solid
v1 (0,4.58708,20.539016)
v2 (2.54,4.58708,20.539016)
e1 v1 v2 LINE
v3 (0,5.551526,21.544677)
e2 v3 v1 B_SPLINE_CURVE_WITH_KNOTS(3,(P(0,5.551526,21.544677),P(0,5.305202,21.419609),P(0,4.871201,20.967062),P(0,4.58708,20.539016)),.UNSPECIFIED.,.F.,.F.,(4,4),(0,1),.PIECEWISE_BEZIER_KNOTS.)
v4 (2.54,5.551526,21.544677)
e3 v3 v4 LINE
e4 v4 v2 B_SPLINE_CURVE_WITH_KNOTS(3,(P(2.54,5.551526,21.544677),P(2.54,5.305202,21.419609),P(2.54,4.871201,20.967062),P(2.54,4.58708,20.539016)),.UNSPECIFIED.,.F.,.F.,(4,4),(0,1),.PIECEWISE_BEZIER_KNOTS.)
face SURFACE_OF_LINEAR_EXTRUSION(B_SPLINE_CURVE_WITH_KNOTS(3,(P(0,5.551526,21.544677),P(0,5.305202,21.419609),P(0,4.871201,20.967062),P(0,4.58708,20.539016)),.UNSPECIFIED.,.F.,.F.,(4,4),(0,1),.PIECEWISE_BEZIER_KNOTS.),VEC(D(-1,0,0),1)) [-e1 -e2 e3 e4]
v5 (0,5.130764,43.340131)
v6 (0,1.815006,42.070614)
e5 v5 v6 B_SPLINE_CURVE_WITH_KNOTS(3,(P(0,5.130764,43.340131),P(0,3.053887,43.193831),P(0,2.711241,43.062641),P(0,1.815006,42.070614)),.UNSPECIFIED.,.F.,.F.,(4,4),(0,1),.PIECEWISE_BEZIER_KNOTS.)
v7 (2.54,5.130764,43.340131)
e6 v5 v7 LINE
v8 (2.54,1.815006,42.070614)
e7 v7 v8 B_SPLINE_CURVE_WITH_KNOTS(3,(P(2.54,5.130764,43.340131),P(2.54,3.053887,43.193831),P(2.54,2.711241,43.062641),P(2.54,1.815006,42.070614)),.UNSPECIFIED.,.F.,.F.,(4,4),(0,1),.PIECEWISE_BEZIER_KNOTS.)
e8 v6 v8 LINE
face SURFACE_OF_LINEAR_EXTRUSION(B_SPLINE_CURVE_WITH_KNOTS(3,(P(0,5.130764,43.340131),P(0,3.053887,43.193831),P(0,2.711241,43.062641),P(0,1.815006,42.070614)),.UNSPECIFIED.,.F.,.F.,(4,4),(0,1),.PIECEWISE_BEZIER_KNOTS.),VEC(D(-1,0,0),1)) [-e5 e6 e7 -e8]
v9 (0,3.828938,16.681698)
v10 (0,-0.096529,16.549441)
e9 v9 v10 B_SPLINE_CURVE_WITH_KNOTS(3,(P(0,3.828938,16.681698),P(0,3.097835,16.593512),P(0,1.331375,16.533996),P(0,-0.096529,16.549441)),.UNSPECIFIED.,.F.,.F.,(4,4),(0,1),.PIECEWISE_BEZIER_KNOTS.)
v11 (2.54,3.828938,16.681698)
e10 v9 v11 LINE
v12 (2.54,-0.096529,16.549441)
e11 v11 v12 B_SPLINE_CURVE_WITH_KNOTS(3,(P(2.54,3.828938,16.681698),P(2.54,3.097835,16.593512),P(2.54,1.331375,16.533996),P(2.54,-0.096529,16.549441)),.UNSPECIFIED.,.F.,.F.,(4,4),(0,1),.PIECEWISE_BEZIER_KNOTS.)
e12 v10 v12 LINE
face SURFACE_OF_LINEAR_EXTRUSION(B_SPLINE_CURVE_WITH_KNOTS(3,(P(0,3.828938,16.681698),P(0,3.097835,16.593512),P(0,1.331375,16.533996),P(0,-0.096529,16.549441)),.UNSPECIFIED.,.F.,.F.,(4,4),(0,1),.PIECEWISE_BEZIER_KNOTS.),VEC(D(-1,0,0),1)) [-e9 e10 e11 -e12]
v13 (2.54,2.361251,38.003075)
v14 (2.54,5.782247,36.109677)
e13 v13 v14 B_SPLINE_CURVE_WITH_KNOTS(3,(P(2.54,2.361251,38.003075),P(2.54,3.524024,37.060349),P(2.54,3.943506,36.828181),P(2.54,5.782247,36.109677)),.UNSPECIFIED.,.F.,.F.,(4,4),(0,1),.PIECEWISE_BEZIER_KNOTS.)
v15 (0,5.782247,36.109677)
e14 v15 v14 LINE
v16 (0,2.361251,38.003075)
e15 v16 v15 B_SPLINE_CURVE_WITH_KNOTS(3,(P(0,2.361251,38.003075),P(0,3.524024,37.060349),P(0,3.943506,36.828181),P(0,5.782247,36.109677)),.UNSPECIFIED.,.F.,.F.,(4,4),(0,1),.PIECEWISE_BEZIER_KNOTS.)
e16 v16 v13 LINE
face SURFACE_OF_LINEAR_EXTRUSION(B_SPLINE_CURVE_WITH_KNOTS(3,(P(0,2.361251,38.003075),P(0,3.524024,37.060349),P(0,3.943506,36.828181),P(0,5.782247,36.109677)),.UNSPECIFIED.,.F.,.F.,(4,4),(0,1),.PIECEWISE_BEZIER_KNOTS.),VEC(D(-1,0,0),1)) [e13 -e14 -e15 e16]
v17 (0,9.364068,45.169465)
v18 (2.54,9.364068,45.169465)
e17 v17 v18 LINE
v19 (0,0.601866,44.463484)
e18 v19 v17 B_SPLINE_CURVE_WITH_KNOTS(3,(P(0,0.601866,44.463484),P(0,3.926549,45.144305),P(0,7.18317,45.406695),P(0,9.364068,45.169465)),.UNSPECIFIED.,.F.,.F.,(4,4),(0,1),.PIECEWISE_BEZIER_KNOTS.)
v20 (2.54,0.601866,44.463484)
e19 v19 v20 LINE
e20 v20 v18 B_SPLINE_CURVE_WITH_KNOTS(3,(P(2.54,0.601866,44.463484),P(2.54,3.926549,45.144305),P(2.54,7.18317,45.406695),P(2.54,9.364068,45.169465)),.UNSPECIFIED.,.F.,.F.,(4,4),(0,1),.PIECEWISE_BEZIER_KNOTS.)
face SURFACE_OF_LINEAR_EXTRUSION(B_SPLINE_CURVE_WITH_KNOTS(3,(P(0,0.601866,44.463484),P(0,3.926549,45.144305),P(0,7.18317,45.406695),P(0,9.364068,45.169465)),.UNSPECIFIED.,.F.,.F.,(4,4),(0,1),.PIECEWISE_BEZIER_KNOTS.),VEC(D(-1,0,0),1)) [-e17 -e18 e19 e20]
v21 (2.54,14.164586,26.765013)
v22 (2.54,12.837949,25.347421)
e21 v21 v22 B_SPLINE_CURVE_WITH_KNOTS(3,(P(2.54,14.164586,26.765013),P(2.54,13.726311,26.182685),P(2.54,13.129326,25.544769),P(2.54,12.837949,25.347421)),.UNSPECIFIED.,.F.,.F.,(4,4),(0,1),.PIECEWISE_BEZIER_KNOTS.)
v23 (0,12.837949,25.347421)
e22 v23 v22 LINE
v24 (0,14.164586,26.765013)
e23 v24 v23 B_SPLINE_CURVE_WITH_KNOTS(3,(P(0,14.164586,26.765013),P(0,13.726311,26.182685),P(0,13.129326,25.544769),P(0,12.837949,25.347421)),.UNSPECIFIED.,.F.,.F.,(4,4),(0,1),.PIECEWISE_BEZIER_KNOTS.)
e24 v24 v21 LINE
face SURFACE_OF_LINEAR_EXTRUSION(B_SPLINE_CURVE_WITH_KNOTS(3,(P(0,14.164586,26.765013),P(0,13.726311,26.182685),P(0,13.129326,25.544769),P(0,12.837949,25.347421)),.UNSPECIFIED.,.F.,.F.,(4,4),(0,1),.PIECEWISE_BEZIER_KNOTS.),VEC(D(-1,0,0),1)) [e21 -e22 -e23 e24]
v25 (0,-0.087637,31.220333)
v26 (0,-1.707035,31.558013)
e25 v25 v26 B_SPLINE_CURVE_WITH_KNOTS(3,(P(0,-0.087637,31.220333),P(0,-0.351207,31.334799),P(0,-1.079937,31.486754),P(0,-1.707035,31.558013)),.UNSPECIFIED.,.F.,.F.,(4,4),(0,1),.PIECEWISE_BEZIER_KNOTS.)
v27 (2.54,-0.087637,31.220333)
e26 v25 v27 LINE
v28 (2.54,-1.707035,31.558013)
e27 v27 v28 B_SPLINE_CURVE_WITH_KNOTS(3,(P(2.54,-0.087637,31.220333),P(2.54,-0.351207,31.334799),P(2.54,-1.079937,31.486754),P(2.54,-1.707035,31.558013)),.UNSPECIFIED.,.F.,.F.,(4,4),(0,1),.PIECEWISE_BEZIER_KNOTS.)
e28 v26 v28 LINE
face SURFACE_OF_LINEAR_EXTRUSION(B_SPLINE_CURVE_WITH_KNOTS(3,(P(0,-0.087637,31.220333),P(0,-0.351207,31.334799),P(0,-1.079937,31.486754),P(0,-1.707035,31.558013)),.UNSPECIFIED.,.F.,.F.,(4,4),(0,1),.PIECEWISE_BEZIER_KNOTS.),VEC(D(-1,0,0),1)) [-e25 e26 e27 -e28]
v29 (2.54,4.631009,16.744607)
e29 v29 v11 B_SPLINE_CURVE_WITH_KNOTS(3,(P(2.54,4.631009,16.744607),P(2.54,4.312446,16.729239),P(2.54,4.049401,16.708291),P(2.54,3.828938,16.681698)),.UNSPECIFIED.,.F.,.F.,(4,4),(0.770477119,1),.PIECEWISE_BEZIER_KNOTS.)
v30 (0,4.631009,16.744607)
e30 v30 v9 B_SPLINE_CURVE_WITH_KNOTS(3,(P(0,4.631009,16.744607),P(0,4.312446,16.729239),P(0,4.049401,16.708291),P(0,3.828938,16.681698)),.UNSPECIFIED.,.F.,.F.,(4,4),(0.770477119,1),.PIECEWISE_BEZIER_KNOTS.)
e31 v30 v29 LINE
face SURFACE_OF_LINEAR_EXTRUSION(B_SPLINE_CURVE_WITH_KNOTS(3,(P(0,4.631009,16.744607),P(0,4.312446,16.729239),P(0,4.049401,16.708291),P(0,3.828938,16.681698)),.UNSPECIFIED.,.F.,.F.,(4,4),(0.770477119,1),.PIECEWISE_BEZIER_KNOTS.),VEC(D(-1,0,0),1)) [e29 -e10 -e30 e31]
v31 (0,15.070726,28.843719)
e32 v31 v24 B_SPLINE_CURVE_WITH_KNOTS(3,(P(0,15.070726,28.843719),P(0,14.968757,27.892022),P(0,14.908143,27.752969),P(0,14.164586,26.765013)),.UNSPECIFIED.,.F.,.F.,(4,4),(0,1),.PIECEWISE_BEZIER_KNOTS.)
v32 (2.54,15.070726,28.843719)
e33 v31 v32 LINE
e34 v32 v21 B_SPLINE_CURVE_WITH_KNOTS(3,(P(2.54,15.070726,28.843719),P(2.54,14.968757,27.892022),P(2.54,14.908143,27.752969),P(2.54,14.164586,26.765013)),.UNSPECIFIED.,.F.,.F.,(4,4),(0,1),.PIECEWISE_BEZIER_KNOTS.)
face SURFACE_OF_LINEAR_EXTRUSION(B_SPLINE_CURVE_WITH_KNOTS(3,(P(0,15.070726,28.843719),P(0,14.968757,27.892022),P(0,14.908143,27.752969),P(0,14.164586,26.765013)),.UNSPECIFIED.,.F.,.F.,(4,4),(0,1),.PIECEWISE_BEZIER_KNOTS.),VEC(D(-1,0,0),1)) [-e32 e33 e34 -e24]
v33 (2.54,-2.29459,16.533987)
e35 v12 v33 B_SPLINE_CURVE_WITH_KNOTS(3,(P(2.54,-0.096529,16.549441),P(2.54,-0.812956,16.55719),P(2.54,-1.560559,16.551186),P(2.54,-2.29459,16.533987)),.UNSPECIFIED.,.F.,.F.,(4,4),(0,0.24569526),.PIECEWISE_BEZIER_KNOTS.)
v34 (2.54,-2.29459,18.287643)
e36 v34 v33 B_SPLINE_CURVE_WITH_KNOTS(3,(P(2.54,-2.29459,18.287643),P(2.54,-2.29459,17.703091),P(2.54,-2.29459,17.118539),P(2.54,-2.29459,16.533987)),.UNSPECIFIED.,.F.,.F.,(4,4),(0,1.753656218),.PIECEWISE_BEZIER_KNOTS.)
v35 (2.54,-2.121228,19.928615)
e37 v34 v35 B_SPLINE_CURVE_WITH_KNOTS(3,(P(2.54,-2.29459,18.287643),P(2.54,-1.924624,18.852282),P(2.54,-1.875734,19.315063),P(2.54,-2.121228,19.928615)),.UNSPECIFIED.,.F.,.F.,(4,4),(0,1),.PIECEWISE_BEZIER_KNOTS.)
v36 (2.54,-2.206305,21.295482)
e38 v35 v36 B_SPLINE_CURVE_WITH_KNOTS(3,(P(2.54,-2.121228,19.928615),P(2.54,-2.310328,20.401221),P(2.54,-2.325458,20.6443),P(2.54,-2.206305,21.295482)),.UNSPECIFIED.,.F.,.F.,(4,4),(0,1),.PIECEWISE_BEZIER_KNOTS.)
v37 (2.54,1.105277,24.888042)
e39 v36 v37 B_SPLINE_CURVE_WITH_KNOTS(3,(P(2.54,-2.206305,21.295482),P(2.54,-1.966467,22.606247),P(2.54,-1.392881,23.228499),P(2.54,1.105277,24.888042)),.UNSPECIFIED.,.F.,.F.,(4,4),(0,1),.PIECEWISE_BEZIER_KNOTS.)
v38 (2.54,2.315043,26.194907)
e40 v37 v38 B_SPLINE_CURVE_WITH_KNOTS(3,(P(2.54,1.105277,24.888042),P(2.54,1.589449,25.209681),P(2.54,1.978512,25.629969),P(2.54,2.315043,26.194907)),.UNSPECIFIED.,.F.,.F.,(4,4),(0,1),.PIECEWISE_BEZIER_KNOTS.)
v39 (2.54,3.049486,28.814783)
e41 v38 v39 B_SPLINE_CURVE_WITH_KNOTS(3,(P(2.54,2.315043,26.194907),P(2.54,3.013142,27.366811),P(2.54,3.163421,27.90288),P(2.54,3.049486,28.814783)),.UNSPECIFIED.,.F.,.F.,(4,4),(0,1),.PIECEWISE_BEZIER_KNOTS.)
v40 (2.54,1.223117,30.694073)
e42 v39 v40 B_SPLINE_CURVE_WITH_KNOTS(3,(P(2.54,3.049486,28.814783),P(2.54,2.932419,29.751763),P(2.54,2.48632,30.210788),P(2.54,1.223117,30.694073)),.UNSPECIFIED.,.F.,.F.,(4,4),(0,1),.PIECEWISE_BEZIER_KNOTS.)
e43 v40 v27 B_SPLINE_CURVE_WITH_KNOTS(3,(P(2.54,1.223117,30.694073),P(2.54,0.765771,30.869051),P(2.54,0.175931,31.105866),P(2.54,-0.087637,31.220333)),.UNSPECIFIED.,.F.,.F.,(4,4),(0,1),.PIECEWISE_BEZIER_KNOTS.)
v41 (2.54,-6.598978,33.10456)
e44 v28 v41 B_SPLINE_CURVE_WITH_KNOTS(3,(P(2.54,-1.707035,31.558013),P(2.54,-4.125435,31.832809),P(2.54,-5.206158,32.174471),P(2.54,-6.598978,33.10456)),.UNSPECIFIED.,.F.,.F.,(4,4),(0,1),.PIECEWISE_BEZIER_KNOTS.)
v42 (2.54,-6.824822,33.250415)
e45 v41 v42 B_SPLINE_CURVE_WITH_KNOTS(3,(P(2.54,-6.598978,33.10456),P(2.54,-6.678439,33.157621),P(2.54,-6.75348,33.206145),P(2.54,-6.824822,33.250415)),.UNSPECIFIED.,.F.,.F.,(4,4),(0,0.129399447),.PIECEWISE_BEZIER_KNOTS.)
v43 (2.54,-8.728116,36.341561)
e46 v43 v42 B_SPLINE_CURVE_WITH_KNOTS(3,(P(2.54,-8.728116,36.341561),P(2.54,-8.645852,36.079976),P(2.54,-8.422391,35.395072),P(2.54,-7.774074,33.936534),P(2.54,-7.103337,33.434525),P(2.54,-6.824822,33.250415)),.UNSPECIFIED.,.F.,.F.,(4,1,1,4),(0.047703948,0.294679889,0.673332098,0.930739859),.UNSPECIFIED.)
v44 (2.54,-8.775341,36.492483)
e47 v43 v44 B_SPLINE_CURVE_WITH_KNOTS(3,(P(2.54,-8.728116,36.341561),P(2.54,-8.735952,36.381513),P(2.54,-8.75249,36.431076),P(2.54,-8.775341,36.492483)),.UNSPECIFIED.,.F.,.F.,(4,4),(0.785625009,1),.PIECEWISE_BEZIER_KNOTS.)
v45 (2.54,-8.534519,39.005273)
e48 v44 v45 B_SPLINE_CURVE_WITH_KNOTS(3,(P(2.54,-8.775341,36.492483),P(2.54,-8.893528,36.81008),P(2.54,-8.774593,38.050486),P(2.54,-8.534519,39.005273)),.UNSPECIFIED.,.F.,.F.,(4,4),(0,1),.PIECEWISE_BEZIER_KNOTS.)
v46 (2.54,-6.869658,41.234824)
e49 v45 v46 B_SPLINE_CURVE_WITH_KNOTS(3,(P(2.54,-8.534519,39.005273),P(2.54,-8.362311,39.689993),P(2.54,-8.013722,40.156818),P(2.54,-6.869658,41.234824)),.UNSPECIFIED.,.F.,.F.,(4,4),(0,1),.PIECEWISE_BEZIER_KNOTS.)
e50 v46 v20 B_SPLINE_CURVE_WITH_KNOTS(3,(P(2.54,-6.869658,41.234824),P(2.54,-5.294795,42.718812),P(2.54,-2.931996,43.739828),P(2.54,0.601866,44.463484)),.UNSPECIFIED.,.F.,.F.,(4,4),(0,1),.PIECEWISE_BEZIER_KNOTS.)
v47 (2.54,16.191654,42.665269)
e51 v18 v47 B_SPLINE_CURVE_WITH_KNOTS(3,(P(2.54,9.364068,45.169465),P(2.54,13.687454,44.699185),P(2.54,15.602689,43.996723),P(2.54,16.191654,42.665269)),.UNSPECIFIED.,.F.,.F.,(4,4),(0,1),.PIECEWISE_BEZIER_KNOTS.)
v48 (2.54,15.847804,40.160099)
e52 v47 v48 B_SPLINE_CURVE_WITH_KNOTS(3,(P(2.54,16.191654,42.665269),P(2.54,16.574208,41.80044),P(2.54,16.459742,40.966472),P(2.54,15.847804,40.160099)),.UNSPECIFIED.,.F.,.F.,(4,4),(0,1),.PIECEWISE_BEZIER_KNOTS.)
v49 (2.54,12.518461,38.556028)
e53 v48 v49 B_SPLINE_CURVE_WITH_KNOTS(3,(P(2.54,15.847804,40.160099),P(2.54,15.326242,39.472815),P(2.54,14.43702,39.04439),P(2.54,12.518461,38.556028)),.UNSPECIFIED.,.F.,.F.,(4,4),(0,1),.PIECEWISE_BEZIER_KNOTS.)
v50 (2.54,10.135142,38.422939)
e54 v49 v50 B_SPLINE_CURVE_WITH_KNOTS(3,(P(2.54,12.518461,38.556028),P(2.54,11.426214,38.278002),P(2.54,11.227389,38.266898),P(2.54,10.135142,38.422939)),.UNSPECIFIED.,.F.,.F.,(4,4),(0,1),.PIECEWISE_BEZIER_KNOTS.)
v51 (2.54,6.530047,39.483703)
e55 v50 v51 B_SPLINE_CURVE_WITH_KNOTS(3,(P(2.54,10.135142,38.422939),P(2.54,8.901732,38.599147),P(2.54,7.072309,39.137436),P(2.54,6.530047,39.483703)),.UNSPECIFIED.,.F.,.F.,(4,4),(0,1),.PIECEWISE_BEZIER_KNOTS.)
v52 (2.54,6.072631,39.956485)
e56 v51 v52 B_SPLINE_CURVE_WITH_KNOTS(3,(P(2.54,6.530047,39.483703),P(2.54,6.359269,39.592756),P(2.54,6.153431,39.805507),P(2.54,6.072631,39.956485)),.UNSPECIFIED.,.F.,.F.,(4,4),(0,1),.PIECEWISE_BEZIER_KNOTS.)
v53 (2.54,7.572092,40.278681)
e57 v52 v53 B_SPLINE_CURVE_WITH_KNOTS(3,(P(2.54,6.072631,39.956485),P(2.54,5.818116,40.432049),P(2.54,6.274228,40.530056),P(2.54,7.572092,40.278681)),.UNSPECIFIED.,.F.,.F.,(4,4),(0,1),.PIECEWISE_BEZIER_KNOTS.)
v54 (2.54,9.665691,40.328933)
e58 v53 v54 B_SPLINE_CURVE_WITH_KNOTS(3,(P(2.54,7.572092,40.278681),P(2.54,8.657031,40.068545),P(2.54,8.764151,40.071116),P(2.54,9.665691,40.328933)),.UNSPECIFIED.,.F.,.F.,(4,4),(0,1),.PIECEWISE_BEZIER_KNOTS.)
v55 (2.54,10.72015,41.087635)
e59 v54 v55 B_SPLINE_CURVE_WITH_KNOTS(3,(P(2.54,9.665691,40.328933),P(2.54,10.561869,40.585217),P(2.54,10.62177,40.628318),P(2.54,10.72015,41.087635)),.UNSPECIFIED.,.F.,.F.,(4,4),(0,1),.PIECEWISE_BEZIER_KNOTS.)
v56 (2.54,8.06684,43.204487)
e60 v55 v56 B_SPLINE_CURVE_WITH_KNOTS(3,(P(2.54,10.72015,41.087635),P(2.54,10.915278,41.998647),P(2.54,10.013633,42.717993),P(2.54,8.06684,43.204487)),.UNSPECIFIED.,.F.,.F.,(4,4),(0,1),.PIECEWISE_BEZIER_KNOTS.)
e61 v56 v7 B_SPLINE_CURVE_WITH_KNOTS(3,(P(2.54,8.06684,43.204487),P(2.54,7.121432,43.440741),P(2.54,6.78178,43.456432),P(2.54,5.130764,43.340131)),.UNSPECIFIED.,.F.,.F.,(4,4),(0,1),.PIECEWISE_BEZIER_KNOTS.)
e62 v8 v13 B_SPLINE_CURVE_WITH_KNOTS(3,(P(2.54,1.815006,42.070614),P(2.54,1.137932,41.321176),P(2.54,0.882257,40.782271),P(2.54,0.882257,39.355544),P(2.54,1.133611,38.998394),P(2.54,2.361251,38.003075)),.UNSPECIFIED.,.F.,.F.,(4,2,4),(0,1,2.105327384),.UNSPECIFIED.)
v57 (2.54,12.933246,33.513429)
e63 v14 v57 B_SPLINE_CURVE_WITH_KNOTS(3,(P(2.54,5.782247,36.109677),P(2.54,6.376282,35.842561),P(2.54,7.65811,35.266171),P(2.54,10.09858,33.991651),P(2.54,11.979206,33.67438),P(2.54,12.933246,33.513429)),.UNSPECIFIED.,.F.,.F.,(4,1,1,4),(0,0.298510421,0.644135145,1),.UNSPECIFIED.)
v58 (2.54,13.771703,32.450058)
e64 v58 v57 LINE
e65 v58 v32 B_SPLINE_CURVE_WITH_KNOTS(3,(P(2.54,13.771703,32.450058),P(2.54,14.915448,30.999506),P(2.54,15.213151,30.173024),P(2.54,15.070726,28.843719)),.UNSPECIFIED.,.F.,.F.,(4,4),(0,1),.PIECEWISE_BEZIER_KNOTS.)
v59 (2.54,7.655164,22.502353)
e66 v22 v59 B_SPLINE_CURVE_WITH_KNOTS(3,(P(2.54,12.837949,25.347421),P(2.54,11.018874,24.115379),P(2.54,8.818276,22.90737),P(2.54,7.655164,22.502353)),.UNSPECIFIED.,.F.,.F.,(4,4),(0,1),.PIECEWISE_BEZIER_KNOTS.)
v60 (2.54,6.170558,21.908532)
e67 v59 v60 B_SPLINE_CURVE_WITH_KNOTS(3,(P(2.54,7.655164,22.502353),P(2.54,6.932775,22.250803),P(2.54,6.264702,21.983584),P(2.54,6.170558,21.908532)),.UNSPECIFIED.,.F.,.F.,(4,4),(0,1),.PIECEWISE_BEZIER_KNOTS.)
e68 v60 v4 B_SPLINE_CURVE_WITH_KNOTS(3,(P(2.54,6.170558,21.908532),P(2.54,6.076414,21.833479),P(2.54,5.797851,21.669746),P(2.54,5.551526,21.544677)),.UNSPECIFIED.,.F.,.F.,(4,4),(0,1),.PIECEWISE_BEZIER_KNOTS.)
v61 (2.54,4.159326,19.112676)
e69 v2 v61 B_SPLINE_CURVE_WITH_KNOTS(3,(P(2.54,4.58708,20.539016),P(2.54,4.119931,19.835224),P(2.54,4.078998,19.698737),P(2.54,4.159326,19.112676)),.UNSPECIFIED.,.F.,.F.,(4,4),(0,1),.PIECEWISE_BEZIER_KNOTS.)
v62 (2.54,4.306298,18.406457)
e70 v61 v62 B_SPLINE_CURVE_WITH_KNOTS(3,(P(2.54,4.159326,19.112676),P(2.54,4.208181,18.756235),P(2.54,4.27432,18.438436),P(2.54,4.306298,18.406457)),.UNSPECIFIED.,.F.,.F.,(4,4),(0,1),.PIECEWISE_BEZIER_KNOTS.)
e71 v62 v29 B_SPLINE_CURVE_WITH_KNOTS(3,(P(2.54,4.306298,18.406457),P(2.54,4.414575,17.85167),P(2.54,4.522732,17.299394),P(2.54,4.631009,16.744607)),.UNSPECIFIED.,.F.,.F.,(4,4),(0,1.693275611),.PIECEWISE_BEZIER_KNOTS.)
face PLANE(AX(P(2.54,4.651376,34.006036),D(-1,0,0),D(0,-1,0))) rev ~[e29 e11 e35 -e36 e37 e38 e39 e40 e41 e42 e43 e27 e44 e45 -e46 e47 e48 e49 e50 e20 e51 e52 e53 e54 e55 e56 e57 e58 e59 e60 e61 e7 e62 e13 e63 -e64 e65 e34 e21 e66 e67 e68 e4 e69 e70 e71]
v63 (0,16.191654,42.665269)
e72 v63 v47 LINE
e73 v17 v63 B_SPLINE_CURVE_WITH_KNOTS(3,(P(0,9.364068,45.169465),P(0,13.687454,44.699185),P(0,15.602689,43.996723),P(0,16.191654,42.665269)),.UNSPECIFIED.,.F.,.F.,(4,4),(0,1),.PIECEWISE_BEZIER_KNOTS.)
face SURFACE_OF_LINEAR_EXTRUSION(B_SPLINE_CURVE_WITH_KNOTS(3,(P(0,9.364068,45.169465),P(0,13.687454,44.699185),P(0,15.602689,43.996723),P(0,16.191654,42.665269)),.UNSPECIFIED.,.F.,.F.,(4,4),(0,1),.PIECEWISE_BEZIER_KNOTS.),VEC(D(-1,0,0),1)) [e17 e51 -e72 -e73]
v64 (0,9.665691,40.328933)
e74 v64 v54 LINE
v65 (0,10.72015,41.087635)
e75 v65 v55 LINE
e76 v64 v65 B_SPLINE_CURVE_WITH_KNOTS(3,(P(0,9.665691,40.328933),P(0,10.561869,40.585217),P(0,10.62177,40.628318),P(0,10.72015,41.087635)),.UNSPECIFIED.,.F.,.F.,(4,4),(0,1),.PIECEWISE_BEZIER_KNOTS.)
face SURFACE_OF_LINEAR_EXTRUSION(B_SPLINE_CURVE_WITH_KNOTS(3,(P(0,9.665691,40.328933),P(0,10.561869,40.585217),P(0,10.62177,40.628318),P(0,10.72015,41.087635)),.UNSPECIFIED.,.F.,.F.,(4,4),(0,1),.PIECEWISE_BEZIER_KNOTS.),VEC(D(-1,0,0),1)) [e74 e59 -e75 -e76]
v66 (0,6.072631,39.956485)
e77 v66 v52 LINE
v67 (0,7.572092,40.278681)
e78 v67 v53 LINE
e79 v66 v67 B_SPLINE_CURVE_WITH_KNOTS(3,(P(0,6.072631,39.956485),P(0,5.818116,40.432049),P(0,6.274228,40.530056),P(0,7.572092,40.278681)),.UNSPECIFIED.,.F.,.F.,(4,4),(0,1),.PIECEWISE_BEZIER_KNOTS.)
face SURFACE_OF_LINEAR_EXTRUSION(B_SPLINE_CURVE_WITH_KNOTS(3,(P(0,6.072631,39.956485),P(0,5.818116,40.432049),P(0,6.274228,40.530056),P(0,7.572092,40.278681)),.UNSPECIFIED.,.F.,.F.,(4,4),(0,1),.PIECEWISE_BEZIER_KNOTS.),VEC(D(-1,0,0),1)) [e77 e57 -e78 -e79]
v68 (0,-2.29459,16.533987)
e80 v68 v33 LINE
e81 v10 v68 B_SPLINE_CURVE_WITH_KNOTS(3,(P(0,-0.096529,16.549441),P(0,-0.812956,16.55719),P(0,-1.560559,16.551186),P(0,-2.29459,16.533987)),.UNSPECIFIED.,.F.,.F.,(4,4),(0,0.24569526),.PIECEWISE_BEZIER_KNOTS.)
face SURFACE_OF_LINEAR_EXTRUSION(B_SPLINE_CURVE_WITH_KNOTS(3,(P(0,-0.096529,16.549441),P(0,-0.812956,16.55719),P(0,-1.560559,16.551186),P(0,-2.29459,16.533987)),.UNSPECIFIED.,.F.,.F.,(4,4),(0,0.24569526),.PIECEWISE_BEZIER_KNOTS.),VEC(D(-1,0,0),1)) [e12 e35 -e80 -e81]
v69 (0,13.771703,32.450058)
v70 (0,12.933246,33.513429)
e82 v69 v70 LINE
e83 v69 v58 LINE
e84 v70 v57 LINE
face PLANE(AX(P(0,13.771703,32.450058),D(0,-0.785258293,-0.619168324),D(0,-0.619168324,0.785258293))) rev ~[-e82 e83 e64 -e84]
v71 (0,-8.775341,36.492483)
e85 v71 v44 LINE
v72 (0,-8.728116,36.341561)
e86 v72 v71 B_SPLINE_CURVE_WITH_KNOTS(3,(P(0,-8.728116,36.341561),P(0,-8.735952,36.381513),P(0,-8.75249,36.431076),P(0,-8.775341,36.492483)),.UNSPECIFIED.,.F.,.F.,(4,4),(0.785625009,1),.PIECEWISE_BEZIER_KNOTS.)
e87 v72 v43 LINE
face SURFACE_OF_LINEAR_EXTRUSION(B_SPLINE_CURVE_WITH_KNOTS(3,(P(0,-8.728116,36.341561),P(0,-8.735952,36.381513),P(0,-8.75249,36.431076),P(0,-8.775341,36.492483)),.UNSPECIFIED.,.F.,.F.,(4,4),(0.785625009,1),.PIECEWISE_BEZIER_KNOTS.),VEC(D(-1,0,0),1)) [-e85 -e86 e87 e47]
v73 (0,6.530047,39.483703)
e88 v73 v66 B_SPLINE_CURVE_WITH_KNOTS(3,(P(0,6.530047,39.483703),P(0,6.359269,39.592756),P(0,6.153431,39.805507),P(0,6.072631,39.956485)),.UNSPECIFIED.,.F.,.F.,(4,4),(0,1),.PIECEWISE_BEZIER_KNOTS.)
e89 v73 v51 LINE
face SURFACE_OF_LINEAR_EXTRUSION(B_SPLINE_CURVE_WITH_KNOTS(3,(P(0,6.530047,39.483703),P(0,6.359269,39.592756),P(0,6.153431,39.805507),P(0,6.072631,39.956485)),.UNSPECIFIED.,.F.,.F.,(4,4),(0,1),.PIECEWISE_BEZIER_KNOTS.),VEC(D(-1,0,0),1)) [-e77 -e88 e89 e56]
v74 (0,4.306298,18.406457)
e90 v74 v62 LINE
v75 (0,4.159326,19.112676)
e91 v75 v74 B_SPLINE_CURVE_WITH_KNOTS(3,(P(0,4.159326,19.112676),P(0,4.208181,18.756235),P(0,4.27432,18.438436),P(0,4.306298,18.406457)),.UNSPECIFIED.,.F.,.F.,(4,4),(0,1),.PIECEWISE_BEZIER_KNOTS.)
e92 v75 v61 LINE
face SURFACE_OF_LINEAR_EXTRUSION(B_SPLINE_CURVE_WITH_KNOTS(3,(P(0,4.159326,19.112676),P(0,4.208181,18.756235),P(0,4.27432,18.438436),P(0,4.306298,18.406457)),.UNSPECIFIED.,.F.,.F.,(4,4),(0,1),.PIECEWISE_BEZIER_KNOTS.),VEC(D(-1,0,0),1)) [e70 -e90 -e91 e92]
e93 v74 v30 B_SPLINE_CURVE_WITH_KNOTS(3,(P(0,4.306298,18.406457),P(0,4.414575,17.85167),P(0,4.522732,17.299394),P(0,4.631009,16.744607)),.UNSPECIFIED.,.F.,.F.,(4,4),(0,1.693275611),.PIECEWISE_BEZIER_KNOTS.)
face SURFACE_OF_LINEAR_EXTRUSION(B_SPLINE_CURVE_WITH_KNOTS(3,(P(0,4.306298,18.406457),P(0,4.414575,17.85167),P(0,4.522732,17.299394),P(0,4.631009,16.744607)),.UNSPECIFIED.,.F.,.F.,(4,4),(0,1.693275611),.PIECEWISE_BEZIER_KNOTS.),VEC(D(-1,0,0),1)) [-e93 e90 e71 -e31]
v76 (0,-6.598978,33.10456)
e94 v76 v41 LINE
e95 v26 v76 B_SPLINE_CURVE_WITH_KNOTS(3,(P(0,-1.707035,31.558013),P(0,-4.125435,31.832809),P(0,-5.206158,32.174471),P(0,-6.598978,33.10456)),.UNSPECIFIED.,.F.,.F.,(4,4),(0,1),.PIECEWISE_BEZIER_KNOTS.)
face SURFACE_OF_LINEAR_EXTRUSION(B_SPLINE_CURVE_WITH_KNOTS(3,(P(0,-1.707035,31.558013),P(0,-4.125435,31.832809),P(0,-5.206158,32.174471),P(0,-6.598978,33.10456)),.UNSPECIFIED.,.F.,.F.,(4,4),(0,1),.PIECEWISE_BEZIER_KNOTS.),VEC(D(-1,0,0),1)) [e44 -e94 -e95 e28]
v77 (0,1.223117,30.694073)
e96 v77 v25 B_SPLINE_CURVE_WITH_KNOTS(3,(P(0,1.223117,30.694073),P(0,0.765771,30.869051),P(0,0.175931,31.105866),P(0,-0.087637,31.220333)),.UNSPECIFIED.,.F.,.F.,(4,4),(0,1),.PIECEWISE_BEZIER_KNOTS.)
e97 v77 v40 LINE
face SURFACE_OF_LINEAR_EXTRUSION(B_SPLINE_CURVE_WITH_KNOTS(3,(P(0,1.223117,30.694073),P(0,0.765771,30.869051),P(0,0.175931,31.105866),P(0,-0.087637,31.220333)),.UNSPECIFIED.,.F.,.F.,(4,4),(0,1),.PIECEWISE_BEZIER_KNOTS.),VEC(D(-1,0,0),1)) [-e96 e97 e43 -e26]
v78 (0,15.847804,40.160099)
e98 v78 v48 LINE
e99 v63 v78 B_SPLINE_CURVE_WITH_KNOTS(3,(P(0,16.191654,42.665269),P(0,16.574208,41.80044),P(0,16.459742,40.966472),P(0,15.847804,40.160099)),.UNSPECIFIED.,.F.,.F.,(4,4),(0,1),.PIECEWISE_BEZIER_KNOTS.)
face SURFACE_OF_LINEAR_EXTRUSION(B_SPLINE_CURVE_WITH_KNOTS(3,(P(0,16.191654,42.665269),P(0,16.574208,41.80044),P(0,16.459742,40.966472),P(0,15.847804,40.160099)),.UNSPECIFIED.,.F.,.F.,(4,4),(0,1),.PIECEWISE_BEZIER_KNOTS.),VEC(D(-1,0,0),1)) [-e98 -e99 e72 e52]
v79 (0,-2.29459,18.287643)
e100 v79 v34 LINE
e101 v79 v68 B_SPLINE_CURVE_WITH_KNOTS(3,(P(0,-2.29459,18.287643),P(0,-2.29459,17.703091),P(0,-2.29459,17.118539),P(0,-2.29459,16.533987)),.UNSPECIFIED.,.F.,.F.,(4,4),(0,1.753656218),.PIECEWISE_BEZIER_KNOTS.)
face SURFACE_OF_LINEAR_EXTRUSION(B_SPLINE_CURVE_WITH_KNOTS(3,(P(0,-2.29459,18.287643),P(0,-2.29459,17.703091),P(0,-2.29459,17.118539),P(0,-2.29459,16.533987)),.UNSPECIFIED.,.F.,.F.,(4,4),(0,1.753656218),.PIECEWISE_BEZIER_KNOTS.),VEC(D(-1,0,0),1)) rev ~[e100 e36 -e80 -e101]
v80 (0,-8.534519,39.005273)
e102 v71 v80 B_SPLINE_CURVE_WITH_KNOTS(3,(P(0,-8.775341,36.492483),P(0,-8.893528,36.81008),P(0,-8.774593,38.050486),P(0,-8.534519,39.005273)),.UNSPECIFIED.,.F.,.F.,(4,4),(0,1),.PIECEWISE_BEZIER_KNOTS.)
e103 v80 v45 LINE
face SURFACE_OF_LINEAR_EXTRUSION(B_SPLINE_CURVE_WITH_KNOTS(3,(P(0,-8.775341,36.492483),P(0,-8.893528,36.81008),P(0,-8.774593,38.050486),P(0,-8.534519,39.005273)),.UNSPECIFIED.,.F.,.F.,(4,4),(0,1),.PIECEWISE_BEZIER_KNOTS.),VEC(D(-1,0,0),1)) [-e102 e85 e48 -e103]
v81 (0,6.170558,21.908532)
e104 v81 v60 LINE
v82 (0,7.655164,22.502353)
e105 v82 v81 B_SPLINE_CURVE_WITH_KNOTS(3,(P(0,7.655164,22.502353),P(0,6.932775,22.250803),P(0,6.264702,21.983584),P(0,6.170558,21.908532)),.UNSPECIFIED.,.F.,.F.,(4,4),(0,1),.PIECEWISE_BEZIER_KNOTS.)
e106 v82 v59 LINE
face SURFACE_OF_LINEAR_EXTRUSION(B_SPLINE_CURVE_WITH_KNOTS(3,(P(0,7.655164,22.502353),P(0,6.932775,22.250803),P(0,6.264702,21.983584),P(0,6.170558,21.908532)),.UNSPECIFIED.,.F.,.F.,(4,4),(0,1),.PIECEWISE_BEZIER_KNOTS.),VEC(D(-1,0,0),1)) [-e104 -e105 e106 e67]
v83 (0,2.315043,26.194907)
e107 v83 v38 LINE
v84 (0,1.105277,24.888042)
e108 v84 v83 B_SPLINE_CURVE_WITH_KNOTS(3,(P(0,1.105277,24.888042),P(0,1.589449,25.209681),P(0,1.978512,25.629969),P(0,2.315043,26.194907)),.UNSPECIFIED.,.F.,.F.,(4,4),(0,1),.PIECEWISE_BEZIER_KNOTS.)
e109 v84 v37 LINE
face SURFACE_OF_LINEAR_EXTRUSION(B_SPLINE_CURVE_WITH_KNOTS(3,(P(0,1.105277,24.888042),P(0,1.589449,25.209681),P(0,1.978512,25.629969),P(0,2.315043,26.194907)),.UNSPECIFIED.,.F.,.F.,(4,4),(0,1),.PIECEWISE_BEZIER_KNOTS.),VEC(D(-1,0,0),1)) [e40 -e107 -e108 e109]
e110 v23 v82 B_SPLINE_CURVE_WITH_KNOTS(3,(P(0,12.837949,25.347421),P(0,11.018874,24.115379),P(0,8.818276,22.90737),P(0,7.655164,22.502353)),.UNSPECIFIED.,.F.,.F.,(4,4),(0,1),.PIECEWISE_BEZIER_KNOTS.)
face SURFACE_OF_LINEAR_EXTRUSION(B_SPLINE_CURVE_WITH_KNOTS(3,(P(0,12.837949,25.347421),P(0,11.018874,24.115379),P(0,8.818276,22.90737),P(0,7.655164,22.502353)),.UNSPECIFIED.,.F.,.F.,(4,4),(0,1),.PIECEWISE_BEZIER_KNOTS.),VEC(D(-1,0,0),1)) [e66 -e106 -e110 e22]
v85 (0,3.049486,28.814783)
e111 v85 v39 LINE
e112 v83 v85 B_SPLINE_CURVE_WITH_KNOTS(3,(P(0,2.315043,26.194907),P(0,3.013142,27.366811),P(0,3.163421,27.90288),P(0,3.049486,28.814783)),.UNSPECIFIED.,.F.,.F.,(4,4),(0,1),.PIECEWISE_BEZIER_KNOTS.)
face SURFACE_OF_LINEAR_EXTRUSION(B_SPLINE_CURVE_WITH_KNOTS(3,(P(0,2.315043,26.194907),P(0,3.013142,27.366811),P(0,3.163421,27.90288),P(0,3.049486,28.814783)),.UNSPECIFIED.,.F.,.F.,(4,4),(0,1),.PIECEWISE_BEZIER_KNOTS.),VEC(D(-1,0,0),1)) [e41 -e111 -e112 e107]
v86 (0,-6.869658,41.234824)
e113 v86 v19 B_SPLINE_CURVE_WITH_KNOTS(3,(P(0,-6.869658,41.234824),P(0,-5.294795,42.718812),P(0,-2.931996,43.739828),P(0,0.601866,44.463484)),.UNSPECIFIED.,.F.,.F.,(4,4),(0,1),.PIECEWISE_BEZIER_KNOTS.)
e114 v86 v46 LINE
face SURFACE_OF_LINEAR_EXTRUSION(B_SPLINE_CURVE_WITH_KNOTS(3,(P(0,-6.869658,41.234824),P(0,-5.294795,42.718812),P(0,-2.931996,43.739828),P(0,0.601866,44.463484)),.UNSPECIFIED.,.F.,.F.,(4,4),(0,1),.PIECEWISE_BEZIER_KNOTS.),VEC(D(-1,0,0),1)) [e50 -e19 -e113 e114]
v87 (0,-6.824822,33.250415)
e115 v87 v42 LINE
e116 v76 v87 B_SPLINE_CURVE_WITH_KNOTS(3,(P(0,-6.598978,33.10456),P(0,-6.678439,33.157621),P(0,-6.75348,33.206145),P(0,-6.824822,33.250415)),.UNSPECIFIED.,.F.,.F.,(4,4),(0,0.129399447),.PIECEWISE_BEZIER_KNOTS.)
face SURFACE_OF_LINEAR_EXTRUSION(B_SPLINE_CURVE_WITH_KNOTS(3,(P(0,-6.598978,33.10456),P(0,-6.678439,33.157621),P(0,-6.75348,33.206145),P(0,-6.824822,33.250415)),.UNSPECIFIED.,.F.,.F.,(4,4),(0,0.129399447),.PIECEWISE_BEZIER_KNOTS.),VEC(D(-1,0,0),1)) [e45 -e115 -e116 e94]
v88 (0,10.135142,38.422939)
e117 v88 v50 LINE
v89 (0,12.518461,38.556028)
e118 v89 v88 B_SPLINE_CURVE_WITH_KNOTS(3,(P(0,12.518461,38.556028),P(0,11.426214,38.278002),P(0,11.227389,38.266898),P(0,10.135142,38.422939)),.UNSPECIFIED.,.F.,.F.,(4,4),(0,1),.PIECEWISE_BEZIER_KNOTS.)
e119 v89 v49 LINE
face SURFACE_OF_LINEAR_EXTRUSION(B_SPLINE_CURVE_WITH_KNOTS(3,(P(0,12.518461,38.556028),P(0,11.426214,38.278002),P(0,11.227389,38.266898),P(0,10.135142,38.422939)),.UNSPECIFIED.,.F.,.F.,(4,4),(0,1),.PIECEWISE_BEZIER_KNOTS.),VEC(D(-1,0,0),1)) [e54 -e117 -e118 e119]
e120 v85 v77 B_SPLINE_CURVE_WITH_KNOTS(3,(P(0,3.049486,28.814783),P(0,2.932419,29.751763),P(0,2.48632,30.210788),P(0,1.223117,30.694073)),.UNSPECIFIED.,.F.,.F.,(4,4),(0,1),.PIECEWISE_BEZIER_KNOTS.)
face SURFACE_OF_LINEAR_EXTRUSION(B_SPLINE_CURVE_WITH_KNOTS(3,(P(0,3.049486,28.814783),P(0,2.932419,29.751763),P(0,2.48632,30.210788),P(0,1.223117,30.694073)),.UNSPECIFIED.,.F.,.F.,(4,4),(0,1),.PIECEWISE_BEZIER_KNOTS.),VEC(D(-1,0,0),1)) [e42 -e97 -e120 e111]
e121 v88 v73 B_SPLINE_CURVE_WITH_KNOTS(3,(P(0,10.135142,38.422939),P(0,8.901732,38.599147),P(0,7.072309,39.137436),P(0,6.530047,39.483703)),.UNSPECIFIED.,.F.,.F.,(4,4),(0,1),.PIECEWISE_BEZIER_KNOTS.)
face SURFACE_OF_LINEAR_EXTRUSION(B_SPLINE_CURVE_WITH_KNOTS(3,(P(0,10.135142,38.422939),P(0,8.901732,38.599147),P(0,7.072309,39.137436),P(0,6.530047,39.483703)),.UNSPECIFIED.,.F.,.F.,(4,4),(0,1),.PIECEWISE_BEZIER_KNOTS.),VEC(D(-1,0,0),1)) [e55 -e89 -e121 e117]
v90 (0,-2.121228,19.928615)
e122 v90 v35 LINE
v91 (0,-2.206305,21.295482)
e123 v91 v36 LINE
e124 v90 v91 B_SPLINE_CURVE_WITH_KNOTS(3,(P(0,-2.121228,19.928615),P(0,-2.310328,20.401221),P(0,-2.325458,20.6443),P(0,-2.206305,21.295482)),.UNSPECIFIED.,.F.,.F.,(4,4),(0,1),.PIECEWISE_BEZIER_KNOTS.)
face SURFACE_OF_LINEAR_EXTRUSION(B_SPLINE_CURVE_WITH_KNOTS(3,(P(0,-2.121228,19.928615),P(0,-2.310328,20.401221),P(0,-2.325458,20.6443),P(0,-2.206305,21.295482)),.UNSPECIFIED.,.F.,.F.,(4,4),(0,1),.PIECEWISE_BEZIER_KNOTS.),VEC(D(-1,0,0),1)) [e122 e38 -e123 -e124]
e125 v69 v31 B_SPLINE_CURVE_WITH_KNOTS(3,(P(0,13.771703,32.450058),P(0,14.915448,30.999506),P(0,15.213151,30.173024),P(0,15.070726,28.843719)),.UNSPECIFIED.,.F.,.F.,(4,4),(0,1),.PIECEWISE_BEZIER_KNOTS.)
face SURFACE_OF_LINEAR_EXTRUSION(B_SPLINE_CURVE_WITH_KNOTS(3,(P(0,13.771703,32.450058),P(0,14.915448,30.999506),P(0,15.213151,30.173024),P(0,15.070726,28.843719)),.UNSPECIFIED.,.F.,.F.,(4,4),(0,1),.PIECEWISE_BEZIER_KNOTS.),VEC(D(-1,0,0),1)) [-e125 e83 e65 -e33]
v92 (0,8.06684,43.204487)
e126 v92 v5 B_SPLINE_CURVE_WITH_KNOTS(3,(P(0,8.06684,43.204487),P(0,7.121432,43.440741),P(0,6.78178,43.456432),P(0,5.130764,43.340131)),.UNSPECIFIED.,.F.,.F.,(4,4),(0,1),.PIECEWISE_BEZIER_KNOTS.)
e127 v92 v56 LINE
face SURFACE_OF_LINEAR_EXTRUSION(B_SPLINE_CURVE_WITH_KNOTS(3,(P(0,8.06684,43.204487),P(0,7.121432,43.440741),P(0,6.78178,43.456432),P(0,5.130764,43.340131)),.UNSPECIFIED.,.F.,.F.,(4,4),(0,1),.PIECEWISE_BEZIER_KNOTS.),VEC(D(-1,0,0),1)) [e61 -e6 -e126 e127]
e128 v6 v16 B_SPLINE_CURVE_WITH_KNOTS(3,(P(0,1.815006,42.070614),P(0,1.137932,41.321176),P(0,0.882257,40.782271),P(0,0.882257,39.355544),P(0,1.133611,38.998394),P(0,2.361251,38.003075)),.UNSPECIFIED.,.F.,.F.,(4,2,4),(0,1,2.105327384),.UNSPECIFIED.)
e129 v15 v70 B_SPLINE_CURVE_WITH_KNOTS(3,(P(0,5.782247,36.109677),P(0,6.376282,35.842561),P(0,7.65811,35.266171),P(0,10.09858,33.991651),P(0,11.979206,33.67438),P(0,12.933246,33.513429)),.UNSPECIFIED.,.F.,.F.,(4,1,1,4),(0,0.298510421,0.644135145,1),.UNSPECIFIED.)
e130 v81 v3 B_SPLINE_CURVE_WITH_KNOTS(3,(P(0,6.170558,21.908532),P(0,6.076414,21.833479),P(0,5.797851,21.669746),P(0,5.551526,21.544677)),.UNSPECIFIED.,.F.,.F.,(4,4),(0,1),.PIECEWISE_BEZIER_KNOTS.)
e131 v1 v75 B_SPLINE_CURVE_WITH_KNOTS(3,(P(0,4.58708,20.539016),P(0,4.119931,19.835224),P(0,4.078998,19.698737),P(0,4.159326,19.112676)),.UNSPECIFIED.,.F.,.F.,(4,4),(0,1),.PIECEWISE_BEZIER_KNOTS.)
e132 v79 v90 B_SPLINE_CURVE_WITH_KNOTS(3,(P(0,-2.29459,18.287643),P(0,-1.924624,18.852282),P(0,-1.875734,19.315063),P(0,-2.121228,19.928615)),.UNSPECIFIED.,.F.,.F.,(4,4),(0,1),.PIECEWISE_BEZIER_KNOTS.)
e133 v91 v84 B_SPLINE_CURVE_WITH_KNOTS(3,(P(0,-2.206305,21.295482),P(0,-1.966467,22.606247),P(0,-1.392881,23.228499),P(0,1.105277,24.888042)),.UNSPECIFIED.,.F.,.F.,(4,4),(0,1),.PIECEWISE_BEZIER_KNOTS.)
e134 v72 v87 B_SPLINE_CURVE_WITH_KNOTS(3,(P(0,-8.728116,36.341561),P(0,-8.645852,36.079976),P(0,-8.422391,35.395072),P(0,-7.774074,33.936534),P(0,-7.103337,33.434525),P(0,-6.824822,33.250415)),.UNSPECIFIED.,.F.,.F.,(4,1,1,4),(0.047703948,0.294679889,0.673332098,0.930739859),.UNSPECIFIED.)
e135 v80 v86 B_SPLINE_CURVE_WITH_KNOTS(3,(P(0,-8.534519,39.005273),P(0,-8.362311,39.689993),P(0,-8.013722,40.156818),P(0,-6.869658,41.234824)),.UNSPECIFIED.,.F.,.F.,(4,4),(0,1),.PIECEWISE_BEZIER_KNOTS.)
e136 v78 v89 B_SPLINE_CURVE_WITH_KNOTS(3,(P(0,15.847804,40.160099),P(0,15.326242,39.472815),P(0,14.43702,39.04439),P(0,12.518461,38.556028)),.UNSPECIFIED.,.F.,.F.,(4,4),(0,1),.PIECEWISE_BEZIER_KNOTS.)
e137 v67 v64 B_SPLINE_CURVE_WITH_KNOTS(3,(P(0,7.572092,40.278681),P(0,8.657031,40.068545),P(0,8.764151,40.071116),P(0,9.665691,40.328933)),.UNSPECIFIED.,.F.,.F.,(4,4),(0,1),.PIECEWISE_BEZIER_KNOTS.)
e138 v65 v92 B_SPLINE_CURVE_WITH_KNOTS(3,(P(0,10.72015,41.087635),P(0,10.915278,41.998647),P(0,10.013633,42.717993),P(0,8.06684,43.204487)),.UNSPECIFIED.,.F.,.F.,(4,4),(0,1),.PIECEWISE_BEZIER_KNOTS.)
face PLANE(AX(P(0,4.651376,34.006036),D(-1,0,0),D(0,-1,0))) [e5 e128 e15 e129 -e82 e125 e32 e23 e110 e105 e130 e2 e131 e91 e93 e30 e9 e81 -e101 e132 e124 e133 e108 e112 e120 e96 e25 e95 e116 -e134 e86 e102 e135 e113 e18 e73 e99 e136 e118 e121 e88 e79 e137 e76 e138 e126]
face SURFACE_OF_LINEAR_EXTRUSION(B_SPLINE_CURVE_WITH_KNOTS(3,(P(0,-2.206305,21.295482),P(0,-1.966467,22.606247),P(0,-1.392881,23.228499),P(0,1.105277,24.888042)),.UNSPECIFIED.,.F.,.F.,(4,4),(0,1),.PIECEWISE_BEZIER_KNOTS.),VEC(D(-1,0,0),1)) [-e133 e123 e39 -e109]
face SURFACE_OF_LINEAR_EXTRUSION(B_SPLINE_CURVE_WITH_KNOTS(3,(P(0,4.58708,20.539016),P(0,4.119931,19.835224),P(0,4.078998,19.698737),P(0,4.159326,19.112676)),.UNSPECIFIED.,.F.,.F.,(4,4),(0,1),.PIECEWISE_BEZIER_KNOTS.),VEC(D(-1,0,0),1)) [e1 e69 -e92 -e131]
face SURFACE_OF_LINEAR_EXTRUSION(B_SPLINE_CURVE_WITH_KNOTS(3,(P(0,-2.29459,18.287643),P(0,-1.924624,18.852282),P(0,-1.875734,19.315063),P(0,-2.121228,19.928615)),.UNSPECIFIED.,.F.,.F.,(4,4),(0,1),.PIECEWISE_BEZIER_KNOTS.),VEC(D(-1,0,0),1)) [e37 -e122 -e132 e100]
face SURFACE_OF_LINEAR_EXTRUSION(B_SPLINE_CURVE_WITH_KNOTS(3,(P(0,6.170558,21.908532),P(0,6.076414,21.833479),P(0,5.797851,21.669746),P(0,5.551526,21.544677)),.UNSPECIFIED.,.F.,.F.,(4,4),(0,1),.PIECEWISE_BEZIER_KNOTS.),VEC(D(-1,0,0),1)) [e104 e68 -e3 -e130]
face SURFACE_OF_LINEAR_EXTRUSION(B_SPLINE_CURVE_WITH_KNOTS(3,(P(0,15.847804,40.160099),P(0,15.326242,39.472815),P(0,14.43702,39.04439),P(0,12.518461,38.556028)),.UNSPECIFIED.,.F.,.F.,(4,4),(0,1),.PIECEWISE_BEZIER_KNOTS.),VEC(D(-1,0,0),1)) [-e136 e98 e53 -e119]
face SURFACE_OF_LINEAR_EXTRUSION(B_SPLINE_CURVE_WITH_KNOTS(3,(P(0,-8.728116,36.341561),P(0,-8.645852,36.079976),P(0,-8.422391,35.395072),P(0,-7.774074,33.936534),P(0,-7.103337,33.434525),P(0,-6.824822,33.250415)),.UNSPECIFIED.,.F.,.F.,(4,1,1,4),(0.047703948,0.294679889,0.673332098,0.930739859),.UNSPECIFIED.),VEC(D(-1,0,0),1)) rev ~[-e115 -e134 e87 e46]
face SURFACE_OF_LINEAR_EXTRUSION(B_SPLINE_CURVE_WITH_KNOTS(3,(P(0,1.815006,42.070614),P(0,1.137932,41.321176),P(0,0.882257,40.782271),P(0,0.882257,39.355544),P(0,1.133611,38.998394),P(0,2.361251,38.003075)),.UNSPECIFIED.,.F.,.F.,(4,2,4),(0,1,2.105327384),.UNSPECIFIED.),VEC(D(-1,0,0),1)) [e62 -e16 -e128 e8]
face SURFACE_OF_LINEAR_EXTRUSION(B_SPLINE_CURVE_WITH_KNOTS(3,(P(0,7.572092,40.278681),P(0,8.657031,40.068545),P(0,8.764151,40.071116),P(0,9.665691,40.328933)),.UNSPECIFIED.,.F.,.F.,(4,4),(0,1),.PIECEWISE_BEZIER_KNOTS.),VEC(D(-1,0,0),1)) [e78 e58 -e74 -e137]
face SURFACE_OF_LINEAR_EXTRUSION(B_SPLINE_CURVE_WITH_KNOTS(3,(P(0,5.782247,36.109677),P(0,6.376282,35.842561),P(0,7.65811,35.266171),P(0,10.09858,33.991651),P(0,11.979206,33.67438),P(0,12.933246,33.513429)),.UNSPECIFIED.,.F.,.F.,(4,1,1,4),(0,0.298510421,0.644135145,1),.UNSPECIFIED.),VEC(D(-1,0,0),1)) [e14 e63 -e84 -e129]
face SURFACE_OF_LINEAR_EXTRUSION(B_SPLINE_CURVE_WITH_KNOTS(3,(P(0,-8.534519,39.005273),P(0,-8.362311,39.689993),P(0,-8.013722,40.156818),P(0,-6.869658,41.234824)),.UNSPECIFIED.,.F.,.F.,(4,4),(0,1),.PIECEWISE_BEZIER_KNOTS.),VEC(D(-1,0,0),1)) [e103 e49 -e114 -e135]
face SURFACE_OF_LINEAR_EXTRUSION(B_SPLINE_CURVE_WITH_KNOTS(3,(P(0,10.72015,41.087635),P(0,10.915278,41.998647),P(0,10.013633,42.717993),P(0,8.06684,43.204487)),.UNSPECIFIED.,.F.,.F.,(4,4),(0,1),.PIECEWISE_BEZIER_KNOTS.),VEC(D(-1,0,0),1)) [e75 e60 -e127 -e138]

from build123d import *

# Parameters (mm, degrees)
F1_DEPTH = 2.54


with BuildPart() as f1:
    # F0 (on Right) → F1 (new body)
    with BuildSketch(Plane.YZ):
        with BuildLine():
            add(Edge.make_bspline(
                [(4.3062982129, 18.4064569529), (4.4145754331, 17.851669978), (4.5227315225, 17.2993939442), (4.6310087426, 16.7446069692)],
                knots=[0, 0, 0, 0, 1.6932756114, 1.6932756114, 1.6932756114, 1.6932756114], degree=3))
            add(Edge.make_bspline(
                [(4.1593257549, 19.1126760485), (4.2081809899, 18.7562347142), (4.274320241, 18.4384364203), (4.3062982129, 18.4064569529)],
                knots=[0, 0, 0, 0, 1, 1, 1, 1], degree=3))
            add(Edge.make_bspline(
                [(4.587080479, 20.5390156251), (4.1199305204, 19.8352235894), (4.0789979985, 19.6987369871), (4.1593257549, 19.1126760485)],
                knots=[0, 0, 0, 0, 1, 1, 1, 1], degree=3))
            add(Edge.make_bspline(
                [(5.5515264837, 21.5446767853), (5.3052015891, 21.4196091783), (4.8712005131, 20.9670619552), (4.587080479, 20.5390156251)],
                knots=[0, 0, 0, 0, 1, 1, 1, 1], degree=3))
            add(Edge.make_bspline(
                [(6.1705583504, 21.9085323912), (6.0764144472, 21.8334789664), (5.7978513782, 21.6697458878), (5.5515264837, 21.5446767853)],
                knots=[0, 0, 0, 0, 1, 1, 1, 1], degree=3))
            add(Edge.make_bspline(
                [(7.6551638138, 22.5023530426), (6.9327747869, 22.2508031651), (6.2647022536, 21.9835843206), (6.1705583504, 21.9085323912)],
                knots=[0, 0, 0, 0, 1, 1, 1, 1], degree=3))
            add(Edge.make_bspline(
                [(12.8379490604, 25.3474205293), (11.0188744075, 24.1153788353), (8.8182758107, 22.907369969), (7.6551638138, 22.5023530426)],
                knots=[0, 0, 0, 0, 1, 1, 1, 1], degree=3))
            add(Edge.make_bspline(
                [(14.1645862732, 26.7650134187), (13.7263112988, 26.182685038), (13.1293263476, 25.5447690602), (12.8379490604, 25.3474205293)],
                knots=[0, 0, 0, 0, 1, 1, 1, 1], degree=3))
            add(Edge.make_bspline(
                [(15.0707260149, 28.8437191762), (14.9687566007, 27.8920215914), (14.9081429111, 27.7529688556), (14.1645862732, 26.7650134187)],
                knots=[0, 0, 0, 0, 1, 1, 1, 1], degree=3))
            add(Edge.make_bspline(
                [(13.7717031507, 32.4500579966), (14.9154480174, 30.9995061424), (15.2131509134, 30.1730242108), (15.0707260149, 28.8437191762)],
                knots=[0, 0, 0, 0, 1, 1, 1, 1], degree=3))
            Line((13.7717031507, 32.4500579966), (12.9332459293, 33.5134287489))
            add(Edge.make_bspline(
                [(5.7822467141, 36.1096769875), (6.3762820613, 35.8425612862), (7.6581101579, 35.2661706512), (10.0985801685, 33.9916505274), (11.9792064067, 33.6743798154), (12.9332459293, 33.5134287489)],
                knots=[0, 0, 0, 0, 0.2985104209, 0.6441351452, 1, 1, 1, 1], degree=3))
            add(Edge.make_bspline(
                [(2.3612512264, 38.0030753022), (3.524023764, 37.060348717), (3.9435058477, 36.828180924), (5.7822467141, 36.1096769875)],
                knots=[0, 0, 0, 0, 1, 1, 1, 1], degree=3))
            add(Edge.make_bspline(
                [(0.8822565632, 40.104596619), (0.8822565632, 39.355544328), (1.1336105412, 38.9983941666), (2.3612512264, 38.0030753022)],
                knots=[0, 0, 0, 0, 1, 1, 1, 1], degree=3))
            add(Edge.make_bspline(
                [(1.8150057341, 42.0706138216), (1.1379322929, 41.3211757133), (0.8822565632, 40.7822712173), (0.8822565632, 40.104596619)],
                knots=[0, 0, 0, 0, 1, 1, 1, 1], degree=3))
            add(Edge.make_bspline(
                [(5.130764324, 43.3401306362), (3.05388746, 43.1938311152), (2.7112413368, 43.0626412758), (1.8150057341, 42.0706138216)],
                knots=[0, 0, 0, 0, 1, 1, 1, 1], degree=3))
            add(Edge.make_bspline(
                [(8.0668398269, 43.2044874484), (7.1214319611, 43.4407407174), (6.7817796603, 43.4564321157), (5.130764324, 43.3401306362)],
                knots=[0, 0, 0, 0, 1, 1, 1, 1], degree=3))
            add(Edge.make_bspline(
                [(10.7201501424, 41.0876351286), (10.9152779809, 41.9986469351), (10.0136334591, 42.7179927908), (8.0668398269, 43.2044874484)],
                knots=[0, 0, 0, 0, 1, 1, 1, 1], degree=3))
            add(Edge.make_bspline(
                [(9.665690573, 40.3289329193), (10.5618693499, 40.5852172833), (10.6217697262, 40.6283181582), (10.7201501424, 41.0876351286)],
                knots=[0, 0, 0, 0, 1, 1, 1, 1], degree=3))
            add(Edge.make_bspline(
                [(7.5720919693, 40.2786809659), (8.6570311041, 40.0685451343), (8.7641507304, 40.0711157541), (9.665690573, 40.3289329193)],
                knots=[0, 0, 0, 0, 1, 1, 1, 1], degree=3))
            add(Edge.make_bspline(
                [(6.0726310451, 39.9564846541), (5.8181157581, 40.4320493175), (6.2742280524, 40.5300558798), (7.5720919693, 40.2786809659)],
                knots=[0, 0, 0, 0, 1, 1, 1, 1], degree=3))
            add(Edge.make_bspline(
                [(6.5300473421, 39.4837029595), (6.3592693595, 39.5927561585), (6.153431353, 39.8055074725), (6.0726310451, 39.9564846541)],
                knots=[0, 0, 0, 0, 1, 1, 1, 1], degree=3))
            add(Edge.make_bspline(
                [(10.1351419765, 38.422938717), (8.9017319771, 38.5991465544), (7.0723090467, 39.1374364346), (6.5300473421, 39.4837029595)],
                knots=[0, 0, 0, 0, 1, 1, 1, 1], degree=3))
            add(Edge.make_bspline(
                [(12.5184609466, 38.5560277345), (11.4262137148, 38.2780015199), (11.2273892084, 38.2668980574), (10.1351419765, 38.422938717)],
                knots=[0, 0, 0, 0, 1, 1, 1, 1], degree=3))
            add(Edge.make_bspline(
                [(15.8478038939, 40.1600989773), (15.3262417352, 39.4728148369), (14.4370196327, 39.0443901666), (12.5184609466, 38.5560277345)],
                knots=[0, 0, 0, 0, 1, 1, 1, 1], degree=3))
            add(Edge.make_bspline(
                [(16.1916538269, 42.665268915), (16.5742081122, 41.8004400355), (16.459741508, 40.9664720523), (15.8478038939, 40.1600989773)],
                knots=[0, 0, 0, 0, 1, 1, 1, 1], degree=3))
            add(Edge.make_bspline(
                [(9.3640681921, 45.169465337), (13.687454414, 44.6991854732), (15.6026887907, 43.9967228622), (16.1916538269, 42.665268915)],
                knots=[0, 0, 0, 0, 1, 1, 1, 1], degree=3))
            add(Edge.make_bspline(
                [(0.6018660961, 44.4634840126), (3.9265493277, 45.1443049658), (7.1831702034, 45.4066951126), (9.3640681921, 45.169465337)],
                knots=[0, 0, 0, 0, 1, 1, 1, 1], degree=3))
            add(Edge.make_bspline(
                [(-6.869657556, 41.234824422), (-5.2947947751, 42.7188122786), (-2.9319959009, 43.7398283685), (0.6018660961, 44.4634840126)],
                knots=[0, 0, 0, 0, 1, 1, 1, 1], degree=3))
            add(Edge.make_bspline(
                [(-8.5345189474, 39.0052730794), (-8.3623113473, 39.6899925817), (-8.0137224416, 40.156818035), (-6.869657556, 41.234824422)],
                knots=[0, 0, 0, 0, 1, 1, 1, 1], degree=3))
            add(Edge.make_bspline(
                [(-8.7753407118, 36.4924825027), (-8.8935279106, 36.8100804109), (-8.7745930039, 38.0504859655), (-8.5345189474, 39.0052730794)],
                knots=[0, 0, 0, 0, 1, 1, 1, 1], degree=3))
            add(Edge.make_bspline(
                [(-8.7281162361, 36.3415613512), (-8.7359523782, 36.3815132341), (-8.7524901075, 36.4310764124), (-8.7753407118, 36.4924825027)],
                knots=[0.7856250085, 0.7856250085, 0.7856250085, 0.7856250085, 1, 1, 1, 1], degree=3))
            add(Edge.make_bspline(
                [(-8.7281162361, 36.3415613512), (-8.6458521412, 36.079976454), (-8.4223909985, 35.3950724639), (-7.7740737011, 33.9365337451), (-7.1033373756, 33.4345247336), (-6.8248215993, 33.2504152378)],
                knots=[0.0477039482, 0.0477039482, 0.0477039482, 0.0477039482, 0.2946798893, 0.6733320976, 0.9307398592, 0.9307398592, 0.9307398592, 0.9307398592], degree=3))
            add(Edge.make_bspline(
                [(-6.5989783193, 33.1045596313), (-6.6784388414, 33.1576214869), (-6.7534797046, 33.2061446456), (-6.8248215993, 33.2504152378)],
                knots=[0, 0, 0, 0, 0.1293994473, 0.1293994473, 0.1293994473, 0.1293994473], degree=3))
            add(Edge.make_bspline(
                [(-1.7070350009, 31.5580125491), (-4.1254349308, 31.8328086656), (-5.2061584884, 32.1744708052), (-6.5989783193, 33.1045596313)],
                knots=[0, 0, 0, 0, 1, 1, 1, 1], degree=3))
            add(Edge.make_bspline(
                [(-0.0876372414, 31.2203327018), (-0.3512072712, 31.3347993061), (-1.0799368612, 31.4867544896), (-1.7070350009, 31.5580125491)],
                knots=[0, 0, 0, 0, 1, 1, 1, 1], degree=3))
            add(Edge.make_bspline(
                [(1.2231171599, 30.6940734419), (0.7657711475, 30.8690505521), (0.1759312931, 31.1058660975), (-0.0876372414, 31.2203327018)],
                knots=[0, 0, 0, 0, 1, 1, 1, 1], degree=3))
            add(Edge.make_bspline(
                [(3.0494864513, 28.81478288), (2.9324193189, 29.7517625823), (2.4863203289, 30.2107879467), (1.2231171599, 30.6940734419)],
                knots=[0, 0, 0, 0, 1, 1, 1, 1], degree=3))
            add(Edge.make_bspline(
                [(2.3150428774, 26.1949070715), (3.0131418651, 27.3668106181), (3.1634206875, 27.9028798057), (3.0494864513, 28.81478288)],
                knots=[0, 0, 0, 0, 1, 1, 1, 1], degree=3))
            add(Edge.make_bspline(
                [(1.1052768976, 24.8880422468), (1.5894491744, 25.2096807685), (1.9785115095, 25.6299688814), (2.3150428774, 26.1949070715)],
                knots=[0, 0, 0, 0, 1, 1, 1, 1], degree=3))
            add(Edge.make_bspline(
                [(-2.2063049959, 21.2954821878), (-1.9664672152, 22.606247057), (-1.3928810353, 23.228498554), (1.1052768976, 24.8880422468)],
                knots=[0, 0, 0, 0, 1, 1, 1, 1], degree=3))
            add(Edge.make_bspline(
                [(-2.1212277989, 19.9286152985), (-2.3103276161, 20.4012205339), (-2.3254582334, 20.6443003762), (-2.2063049959, 21.2954821878)],
                knots=[0, 0, 0, 0, 1, 1, 1, 1], degree=3))
            add(Edge.make_bspline(
                [(-2.29458986, 18.2876431748), (-1.924623985, 18.8522822818), (-1.8757343555, 19.3150626353), (-2.1212277989, 19.9286152985)],
                knots=[0, 0, 0, 0, 1, 1, 1, 1], degree=3))
            add(Edge.make_bspline(
                [(-2.29458986, 18.2876431748), (-2.29458986, 17.7030911022), (-2.29458986, 17.1185390296), (-2.29458986, 16.533986957)],
                knots=[0, 0, 0, 0, 1.7536562178, 1.7536562178, 1.7536562178, 1.7536562178], degree=3))
            add(Edge.make_bspline(
                [(-0.0965289838, 16.5494406097), (-0.8129556754, 16.5571901602), (-1.5605586109, 16.551185881), (-2.29458986, 16.533986957)],
                knots=[0, 0, 0, 0, 0.2456952601, 0.2456952601, 0.2456952601, 0.2456952601], degree=3))
            add(Edge.make_bspline(
                [(3.8289375551, 16.681698176), (3.0978347403, 16.5935120095), (1.3313747977, 16.5339959551), (-0.0965289838, 16.5494406097)],
                knots=[0, 0, 0, 0, 1, 1, 1, 1], degree=3))
            add(Edge.make_bspline(
                [(4.6310087426, 16.7446069692), (4.3124459161, 16.729239125), (4.0494007129, 16.7082907732), (3.8289375551, 16.681698176)],
                knots=[0.7704771185, 0.7704771185, 0.7704771185, 0.7704771185, 1, 1, 1, 1], degree=3))
        make_face()
    extrude(amount=F1_DEPTH)


solid = f1.part
